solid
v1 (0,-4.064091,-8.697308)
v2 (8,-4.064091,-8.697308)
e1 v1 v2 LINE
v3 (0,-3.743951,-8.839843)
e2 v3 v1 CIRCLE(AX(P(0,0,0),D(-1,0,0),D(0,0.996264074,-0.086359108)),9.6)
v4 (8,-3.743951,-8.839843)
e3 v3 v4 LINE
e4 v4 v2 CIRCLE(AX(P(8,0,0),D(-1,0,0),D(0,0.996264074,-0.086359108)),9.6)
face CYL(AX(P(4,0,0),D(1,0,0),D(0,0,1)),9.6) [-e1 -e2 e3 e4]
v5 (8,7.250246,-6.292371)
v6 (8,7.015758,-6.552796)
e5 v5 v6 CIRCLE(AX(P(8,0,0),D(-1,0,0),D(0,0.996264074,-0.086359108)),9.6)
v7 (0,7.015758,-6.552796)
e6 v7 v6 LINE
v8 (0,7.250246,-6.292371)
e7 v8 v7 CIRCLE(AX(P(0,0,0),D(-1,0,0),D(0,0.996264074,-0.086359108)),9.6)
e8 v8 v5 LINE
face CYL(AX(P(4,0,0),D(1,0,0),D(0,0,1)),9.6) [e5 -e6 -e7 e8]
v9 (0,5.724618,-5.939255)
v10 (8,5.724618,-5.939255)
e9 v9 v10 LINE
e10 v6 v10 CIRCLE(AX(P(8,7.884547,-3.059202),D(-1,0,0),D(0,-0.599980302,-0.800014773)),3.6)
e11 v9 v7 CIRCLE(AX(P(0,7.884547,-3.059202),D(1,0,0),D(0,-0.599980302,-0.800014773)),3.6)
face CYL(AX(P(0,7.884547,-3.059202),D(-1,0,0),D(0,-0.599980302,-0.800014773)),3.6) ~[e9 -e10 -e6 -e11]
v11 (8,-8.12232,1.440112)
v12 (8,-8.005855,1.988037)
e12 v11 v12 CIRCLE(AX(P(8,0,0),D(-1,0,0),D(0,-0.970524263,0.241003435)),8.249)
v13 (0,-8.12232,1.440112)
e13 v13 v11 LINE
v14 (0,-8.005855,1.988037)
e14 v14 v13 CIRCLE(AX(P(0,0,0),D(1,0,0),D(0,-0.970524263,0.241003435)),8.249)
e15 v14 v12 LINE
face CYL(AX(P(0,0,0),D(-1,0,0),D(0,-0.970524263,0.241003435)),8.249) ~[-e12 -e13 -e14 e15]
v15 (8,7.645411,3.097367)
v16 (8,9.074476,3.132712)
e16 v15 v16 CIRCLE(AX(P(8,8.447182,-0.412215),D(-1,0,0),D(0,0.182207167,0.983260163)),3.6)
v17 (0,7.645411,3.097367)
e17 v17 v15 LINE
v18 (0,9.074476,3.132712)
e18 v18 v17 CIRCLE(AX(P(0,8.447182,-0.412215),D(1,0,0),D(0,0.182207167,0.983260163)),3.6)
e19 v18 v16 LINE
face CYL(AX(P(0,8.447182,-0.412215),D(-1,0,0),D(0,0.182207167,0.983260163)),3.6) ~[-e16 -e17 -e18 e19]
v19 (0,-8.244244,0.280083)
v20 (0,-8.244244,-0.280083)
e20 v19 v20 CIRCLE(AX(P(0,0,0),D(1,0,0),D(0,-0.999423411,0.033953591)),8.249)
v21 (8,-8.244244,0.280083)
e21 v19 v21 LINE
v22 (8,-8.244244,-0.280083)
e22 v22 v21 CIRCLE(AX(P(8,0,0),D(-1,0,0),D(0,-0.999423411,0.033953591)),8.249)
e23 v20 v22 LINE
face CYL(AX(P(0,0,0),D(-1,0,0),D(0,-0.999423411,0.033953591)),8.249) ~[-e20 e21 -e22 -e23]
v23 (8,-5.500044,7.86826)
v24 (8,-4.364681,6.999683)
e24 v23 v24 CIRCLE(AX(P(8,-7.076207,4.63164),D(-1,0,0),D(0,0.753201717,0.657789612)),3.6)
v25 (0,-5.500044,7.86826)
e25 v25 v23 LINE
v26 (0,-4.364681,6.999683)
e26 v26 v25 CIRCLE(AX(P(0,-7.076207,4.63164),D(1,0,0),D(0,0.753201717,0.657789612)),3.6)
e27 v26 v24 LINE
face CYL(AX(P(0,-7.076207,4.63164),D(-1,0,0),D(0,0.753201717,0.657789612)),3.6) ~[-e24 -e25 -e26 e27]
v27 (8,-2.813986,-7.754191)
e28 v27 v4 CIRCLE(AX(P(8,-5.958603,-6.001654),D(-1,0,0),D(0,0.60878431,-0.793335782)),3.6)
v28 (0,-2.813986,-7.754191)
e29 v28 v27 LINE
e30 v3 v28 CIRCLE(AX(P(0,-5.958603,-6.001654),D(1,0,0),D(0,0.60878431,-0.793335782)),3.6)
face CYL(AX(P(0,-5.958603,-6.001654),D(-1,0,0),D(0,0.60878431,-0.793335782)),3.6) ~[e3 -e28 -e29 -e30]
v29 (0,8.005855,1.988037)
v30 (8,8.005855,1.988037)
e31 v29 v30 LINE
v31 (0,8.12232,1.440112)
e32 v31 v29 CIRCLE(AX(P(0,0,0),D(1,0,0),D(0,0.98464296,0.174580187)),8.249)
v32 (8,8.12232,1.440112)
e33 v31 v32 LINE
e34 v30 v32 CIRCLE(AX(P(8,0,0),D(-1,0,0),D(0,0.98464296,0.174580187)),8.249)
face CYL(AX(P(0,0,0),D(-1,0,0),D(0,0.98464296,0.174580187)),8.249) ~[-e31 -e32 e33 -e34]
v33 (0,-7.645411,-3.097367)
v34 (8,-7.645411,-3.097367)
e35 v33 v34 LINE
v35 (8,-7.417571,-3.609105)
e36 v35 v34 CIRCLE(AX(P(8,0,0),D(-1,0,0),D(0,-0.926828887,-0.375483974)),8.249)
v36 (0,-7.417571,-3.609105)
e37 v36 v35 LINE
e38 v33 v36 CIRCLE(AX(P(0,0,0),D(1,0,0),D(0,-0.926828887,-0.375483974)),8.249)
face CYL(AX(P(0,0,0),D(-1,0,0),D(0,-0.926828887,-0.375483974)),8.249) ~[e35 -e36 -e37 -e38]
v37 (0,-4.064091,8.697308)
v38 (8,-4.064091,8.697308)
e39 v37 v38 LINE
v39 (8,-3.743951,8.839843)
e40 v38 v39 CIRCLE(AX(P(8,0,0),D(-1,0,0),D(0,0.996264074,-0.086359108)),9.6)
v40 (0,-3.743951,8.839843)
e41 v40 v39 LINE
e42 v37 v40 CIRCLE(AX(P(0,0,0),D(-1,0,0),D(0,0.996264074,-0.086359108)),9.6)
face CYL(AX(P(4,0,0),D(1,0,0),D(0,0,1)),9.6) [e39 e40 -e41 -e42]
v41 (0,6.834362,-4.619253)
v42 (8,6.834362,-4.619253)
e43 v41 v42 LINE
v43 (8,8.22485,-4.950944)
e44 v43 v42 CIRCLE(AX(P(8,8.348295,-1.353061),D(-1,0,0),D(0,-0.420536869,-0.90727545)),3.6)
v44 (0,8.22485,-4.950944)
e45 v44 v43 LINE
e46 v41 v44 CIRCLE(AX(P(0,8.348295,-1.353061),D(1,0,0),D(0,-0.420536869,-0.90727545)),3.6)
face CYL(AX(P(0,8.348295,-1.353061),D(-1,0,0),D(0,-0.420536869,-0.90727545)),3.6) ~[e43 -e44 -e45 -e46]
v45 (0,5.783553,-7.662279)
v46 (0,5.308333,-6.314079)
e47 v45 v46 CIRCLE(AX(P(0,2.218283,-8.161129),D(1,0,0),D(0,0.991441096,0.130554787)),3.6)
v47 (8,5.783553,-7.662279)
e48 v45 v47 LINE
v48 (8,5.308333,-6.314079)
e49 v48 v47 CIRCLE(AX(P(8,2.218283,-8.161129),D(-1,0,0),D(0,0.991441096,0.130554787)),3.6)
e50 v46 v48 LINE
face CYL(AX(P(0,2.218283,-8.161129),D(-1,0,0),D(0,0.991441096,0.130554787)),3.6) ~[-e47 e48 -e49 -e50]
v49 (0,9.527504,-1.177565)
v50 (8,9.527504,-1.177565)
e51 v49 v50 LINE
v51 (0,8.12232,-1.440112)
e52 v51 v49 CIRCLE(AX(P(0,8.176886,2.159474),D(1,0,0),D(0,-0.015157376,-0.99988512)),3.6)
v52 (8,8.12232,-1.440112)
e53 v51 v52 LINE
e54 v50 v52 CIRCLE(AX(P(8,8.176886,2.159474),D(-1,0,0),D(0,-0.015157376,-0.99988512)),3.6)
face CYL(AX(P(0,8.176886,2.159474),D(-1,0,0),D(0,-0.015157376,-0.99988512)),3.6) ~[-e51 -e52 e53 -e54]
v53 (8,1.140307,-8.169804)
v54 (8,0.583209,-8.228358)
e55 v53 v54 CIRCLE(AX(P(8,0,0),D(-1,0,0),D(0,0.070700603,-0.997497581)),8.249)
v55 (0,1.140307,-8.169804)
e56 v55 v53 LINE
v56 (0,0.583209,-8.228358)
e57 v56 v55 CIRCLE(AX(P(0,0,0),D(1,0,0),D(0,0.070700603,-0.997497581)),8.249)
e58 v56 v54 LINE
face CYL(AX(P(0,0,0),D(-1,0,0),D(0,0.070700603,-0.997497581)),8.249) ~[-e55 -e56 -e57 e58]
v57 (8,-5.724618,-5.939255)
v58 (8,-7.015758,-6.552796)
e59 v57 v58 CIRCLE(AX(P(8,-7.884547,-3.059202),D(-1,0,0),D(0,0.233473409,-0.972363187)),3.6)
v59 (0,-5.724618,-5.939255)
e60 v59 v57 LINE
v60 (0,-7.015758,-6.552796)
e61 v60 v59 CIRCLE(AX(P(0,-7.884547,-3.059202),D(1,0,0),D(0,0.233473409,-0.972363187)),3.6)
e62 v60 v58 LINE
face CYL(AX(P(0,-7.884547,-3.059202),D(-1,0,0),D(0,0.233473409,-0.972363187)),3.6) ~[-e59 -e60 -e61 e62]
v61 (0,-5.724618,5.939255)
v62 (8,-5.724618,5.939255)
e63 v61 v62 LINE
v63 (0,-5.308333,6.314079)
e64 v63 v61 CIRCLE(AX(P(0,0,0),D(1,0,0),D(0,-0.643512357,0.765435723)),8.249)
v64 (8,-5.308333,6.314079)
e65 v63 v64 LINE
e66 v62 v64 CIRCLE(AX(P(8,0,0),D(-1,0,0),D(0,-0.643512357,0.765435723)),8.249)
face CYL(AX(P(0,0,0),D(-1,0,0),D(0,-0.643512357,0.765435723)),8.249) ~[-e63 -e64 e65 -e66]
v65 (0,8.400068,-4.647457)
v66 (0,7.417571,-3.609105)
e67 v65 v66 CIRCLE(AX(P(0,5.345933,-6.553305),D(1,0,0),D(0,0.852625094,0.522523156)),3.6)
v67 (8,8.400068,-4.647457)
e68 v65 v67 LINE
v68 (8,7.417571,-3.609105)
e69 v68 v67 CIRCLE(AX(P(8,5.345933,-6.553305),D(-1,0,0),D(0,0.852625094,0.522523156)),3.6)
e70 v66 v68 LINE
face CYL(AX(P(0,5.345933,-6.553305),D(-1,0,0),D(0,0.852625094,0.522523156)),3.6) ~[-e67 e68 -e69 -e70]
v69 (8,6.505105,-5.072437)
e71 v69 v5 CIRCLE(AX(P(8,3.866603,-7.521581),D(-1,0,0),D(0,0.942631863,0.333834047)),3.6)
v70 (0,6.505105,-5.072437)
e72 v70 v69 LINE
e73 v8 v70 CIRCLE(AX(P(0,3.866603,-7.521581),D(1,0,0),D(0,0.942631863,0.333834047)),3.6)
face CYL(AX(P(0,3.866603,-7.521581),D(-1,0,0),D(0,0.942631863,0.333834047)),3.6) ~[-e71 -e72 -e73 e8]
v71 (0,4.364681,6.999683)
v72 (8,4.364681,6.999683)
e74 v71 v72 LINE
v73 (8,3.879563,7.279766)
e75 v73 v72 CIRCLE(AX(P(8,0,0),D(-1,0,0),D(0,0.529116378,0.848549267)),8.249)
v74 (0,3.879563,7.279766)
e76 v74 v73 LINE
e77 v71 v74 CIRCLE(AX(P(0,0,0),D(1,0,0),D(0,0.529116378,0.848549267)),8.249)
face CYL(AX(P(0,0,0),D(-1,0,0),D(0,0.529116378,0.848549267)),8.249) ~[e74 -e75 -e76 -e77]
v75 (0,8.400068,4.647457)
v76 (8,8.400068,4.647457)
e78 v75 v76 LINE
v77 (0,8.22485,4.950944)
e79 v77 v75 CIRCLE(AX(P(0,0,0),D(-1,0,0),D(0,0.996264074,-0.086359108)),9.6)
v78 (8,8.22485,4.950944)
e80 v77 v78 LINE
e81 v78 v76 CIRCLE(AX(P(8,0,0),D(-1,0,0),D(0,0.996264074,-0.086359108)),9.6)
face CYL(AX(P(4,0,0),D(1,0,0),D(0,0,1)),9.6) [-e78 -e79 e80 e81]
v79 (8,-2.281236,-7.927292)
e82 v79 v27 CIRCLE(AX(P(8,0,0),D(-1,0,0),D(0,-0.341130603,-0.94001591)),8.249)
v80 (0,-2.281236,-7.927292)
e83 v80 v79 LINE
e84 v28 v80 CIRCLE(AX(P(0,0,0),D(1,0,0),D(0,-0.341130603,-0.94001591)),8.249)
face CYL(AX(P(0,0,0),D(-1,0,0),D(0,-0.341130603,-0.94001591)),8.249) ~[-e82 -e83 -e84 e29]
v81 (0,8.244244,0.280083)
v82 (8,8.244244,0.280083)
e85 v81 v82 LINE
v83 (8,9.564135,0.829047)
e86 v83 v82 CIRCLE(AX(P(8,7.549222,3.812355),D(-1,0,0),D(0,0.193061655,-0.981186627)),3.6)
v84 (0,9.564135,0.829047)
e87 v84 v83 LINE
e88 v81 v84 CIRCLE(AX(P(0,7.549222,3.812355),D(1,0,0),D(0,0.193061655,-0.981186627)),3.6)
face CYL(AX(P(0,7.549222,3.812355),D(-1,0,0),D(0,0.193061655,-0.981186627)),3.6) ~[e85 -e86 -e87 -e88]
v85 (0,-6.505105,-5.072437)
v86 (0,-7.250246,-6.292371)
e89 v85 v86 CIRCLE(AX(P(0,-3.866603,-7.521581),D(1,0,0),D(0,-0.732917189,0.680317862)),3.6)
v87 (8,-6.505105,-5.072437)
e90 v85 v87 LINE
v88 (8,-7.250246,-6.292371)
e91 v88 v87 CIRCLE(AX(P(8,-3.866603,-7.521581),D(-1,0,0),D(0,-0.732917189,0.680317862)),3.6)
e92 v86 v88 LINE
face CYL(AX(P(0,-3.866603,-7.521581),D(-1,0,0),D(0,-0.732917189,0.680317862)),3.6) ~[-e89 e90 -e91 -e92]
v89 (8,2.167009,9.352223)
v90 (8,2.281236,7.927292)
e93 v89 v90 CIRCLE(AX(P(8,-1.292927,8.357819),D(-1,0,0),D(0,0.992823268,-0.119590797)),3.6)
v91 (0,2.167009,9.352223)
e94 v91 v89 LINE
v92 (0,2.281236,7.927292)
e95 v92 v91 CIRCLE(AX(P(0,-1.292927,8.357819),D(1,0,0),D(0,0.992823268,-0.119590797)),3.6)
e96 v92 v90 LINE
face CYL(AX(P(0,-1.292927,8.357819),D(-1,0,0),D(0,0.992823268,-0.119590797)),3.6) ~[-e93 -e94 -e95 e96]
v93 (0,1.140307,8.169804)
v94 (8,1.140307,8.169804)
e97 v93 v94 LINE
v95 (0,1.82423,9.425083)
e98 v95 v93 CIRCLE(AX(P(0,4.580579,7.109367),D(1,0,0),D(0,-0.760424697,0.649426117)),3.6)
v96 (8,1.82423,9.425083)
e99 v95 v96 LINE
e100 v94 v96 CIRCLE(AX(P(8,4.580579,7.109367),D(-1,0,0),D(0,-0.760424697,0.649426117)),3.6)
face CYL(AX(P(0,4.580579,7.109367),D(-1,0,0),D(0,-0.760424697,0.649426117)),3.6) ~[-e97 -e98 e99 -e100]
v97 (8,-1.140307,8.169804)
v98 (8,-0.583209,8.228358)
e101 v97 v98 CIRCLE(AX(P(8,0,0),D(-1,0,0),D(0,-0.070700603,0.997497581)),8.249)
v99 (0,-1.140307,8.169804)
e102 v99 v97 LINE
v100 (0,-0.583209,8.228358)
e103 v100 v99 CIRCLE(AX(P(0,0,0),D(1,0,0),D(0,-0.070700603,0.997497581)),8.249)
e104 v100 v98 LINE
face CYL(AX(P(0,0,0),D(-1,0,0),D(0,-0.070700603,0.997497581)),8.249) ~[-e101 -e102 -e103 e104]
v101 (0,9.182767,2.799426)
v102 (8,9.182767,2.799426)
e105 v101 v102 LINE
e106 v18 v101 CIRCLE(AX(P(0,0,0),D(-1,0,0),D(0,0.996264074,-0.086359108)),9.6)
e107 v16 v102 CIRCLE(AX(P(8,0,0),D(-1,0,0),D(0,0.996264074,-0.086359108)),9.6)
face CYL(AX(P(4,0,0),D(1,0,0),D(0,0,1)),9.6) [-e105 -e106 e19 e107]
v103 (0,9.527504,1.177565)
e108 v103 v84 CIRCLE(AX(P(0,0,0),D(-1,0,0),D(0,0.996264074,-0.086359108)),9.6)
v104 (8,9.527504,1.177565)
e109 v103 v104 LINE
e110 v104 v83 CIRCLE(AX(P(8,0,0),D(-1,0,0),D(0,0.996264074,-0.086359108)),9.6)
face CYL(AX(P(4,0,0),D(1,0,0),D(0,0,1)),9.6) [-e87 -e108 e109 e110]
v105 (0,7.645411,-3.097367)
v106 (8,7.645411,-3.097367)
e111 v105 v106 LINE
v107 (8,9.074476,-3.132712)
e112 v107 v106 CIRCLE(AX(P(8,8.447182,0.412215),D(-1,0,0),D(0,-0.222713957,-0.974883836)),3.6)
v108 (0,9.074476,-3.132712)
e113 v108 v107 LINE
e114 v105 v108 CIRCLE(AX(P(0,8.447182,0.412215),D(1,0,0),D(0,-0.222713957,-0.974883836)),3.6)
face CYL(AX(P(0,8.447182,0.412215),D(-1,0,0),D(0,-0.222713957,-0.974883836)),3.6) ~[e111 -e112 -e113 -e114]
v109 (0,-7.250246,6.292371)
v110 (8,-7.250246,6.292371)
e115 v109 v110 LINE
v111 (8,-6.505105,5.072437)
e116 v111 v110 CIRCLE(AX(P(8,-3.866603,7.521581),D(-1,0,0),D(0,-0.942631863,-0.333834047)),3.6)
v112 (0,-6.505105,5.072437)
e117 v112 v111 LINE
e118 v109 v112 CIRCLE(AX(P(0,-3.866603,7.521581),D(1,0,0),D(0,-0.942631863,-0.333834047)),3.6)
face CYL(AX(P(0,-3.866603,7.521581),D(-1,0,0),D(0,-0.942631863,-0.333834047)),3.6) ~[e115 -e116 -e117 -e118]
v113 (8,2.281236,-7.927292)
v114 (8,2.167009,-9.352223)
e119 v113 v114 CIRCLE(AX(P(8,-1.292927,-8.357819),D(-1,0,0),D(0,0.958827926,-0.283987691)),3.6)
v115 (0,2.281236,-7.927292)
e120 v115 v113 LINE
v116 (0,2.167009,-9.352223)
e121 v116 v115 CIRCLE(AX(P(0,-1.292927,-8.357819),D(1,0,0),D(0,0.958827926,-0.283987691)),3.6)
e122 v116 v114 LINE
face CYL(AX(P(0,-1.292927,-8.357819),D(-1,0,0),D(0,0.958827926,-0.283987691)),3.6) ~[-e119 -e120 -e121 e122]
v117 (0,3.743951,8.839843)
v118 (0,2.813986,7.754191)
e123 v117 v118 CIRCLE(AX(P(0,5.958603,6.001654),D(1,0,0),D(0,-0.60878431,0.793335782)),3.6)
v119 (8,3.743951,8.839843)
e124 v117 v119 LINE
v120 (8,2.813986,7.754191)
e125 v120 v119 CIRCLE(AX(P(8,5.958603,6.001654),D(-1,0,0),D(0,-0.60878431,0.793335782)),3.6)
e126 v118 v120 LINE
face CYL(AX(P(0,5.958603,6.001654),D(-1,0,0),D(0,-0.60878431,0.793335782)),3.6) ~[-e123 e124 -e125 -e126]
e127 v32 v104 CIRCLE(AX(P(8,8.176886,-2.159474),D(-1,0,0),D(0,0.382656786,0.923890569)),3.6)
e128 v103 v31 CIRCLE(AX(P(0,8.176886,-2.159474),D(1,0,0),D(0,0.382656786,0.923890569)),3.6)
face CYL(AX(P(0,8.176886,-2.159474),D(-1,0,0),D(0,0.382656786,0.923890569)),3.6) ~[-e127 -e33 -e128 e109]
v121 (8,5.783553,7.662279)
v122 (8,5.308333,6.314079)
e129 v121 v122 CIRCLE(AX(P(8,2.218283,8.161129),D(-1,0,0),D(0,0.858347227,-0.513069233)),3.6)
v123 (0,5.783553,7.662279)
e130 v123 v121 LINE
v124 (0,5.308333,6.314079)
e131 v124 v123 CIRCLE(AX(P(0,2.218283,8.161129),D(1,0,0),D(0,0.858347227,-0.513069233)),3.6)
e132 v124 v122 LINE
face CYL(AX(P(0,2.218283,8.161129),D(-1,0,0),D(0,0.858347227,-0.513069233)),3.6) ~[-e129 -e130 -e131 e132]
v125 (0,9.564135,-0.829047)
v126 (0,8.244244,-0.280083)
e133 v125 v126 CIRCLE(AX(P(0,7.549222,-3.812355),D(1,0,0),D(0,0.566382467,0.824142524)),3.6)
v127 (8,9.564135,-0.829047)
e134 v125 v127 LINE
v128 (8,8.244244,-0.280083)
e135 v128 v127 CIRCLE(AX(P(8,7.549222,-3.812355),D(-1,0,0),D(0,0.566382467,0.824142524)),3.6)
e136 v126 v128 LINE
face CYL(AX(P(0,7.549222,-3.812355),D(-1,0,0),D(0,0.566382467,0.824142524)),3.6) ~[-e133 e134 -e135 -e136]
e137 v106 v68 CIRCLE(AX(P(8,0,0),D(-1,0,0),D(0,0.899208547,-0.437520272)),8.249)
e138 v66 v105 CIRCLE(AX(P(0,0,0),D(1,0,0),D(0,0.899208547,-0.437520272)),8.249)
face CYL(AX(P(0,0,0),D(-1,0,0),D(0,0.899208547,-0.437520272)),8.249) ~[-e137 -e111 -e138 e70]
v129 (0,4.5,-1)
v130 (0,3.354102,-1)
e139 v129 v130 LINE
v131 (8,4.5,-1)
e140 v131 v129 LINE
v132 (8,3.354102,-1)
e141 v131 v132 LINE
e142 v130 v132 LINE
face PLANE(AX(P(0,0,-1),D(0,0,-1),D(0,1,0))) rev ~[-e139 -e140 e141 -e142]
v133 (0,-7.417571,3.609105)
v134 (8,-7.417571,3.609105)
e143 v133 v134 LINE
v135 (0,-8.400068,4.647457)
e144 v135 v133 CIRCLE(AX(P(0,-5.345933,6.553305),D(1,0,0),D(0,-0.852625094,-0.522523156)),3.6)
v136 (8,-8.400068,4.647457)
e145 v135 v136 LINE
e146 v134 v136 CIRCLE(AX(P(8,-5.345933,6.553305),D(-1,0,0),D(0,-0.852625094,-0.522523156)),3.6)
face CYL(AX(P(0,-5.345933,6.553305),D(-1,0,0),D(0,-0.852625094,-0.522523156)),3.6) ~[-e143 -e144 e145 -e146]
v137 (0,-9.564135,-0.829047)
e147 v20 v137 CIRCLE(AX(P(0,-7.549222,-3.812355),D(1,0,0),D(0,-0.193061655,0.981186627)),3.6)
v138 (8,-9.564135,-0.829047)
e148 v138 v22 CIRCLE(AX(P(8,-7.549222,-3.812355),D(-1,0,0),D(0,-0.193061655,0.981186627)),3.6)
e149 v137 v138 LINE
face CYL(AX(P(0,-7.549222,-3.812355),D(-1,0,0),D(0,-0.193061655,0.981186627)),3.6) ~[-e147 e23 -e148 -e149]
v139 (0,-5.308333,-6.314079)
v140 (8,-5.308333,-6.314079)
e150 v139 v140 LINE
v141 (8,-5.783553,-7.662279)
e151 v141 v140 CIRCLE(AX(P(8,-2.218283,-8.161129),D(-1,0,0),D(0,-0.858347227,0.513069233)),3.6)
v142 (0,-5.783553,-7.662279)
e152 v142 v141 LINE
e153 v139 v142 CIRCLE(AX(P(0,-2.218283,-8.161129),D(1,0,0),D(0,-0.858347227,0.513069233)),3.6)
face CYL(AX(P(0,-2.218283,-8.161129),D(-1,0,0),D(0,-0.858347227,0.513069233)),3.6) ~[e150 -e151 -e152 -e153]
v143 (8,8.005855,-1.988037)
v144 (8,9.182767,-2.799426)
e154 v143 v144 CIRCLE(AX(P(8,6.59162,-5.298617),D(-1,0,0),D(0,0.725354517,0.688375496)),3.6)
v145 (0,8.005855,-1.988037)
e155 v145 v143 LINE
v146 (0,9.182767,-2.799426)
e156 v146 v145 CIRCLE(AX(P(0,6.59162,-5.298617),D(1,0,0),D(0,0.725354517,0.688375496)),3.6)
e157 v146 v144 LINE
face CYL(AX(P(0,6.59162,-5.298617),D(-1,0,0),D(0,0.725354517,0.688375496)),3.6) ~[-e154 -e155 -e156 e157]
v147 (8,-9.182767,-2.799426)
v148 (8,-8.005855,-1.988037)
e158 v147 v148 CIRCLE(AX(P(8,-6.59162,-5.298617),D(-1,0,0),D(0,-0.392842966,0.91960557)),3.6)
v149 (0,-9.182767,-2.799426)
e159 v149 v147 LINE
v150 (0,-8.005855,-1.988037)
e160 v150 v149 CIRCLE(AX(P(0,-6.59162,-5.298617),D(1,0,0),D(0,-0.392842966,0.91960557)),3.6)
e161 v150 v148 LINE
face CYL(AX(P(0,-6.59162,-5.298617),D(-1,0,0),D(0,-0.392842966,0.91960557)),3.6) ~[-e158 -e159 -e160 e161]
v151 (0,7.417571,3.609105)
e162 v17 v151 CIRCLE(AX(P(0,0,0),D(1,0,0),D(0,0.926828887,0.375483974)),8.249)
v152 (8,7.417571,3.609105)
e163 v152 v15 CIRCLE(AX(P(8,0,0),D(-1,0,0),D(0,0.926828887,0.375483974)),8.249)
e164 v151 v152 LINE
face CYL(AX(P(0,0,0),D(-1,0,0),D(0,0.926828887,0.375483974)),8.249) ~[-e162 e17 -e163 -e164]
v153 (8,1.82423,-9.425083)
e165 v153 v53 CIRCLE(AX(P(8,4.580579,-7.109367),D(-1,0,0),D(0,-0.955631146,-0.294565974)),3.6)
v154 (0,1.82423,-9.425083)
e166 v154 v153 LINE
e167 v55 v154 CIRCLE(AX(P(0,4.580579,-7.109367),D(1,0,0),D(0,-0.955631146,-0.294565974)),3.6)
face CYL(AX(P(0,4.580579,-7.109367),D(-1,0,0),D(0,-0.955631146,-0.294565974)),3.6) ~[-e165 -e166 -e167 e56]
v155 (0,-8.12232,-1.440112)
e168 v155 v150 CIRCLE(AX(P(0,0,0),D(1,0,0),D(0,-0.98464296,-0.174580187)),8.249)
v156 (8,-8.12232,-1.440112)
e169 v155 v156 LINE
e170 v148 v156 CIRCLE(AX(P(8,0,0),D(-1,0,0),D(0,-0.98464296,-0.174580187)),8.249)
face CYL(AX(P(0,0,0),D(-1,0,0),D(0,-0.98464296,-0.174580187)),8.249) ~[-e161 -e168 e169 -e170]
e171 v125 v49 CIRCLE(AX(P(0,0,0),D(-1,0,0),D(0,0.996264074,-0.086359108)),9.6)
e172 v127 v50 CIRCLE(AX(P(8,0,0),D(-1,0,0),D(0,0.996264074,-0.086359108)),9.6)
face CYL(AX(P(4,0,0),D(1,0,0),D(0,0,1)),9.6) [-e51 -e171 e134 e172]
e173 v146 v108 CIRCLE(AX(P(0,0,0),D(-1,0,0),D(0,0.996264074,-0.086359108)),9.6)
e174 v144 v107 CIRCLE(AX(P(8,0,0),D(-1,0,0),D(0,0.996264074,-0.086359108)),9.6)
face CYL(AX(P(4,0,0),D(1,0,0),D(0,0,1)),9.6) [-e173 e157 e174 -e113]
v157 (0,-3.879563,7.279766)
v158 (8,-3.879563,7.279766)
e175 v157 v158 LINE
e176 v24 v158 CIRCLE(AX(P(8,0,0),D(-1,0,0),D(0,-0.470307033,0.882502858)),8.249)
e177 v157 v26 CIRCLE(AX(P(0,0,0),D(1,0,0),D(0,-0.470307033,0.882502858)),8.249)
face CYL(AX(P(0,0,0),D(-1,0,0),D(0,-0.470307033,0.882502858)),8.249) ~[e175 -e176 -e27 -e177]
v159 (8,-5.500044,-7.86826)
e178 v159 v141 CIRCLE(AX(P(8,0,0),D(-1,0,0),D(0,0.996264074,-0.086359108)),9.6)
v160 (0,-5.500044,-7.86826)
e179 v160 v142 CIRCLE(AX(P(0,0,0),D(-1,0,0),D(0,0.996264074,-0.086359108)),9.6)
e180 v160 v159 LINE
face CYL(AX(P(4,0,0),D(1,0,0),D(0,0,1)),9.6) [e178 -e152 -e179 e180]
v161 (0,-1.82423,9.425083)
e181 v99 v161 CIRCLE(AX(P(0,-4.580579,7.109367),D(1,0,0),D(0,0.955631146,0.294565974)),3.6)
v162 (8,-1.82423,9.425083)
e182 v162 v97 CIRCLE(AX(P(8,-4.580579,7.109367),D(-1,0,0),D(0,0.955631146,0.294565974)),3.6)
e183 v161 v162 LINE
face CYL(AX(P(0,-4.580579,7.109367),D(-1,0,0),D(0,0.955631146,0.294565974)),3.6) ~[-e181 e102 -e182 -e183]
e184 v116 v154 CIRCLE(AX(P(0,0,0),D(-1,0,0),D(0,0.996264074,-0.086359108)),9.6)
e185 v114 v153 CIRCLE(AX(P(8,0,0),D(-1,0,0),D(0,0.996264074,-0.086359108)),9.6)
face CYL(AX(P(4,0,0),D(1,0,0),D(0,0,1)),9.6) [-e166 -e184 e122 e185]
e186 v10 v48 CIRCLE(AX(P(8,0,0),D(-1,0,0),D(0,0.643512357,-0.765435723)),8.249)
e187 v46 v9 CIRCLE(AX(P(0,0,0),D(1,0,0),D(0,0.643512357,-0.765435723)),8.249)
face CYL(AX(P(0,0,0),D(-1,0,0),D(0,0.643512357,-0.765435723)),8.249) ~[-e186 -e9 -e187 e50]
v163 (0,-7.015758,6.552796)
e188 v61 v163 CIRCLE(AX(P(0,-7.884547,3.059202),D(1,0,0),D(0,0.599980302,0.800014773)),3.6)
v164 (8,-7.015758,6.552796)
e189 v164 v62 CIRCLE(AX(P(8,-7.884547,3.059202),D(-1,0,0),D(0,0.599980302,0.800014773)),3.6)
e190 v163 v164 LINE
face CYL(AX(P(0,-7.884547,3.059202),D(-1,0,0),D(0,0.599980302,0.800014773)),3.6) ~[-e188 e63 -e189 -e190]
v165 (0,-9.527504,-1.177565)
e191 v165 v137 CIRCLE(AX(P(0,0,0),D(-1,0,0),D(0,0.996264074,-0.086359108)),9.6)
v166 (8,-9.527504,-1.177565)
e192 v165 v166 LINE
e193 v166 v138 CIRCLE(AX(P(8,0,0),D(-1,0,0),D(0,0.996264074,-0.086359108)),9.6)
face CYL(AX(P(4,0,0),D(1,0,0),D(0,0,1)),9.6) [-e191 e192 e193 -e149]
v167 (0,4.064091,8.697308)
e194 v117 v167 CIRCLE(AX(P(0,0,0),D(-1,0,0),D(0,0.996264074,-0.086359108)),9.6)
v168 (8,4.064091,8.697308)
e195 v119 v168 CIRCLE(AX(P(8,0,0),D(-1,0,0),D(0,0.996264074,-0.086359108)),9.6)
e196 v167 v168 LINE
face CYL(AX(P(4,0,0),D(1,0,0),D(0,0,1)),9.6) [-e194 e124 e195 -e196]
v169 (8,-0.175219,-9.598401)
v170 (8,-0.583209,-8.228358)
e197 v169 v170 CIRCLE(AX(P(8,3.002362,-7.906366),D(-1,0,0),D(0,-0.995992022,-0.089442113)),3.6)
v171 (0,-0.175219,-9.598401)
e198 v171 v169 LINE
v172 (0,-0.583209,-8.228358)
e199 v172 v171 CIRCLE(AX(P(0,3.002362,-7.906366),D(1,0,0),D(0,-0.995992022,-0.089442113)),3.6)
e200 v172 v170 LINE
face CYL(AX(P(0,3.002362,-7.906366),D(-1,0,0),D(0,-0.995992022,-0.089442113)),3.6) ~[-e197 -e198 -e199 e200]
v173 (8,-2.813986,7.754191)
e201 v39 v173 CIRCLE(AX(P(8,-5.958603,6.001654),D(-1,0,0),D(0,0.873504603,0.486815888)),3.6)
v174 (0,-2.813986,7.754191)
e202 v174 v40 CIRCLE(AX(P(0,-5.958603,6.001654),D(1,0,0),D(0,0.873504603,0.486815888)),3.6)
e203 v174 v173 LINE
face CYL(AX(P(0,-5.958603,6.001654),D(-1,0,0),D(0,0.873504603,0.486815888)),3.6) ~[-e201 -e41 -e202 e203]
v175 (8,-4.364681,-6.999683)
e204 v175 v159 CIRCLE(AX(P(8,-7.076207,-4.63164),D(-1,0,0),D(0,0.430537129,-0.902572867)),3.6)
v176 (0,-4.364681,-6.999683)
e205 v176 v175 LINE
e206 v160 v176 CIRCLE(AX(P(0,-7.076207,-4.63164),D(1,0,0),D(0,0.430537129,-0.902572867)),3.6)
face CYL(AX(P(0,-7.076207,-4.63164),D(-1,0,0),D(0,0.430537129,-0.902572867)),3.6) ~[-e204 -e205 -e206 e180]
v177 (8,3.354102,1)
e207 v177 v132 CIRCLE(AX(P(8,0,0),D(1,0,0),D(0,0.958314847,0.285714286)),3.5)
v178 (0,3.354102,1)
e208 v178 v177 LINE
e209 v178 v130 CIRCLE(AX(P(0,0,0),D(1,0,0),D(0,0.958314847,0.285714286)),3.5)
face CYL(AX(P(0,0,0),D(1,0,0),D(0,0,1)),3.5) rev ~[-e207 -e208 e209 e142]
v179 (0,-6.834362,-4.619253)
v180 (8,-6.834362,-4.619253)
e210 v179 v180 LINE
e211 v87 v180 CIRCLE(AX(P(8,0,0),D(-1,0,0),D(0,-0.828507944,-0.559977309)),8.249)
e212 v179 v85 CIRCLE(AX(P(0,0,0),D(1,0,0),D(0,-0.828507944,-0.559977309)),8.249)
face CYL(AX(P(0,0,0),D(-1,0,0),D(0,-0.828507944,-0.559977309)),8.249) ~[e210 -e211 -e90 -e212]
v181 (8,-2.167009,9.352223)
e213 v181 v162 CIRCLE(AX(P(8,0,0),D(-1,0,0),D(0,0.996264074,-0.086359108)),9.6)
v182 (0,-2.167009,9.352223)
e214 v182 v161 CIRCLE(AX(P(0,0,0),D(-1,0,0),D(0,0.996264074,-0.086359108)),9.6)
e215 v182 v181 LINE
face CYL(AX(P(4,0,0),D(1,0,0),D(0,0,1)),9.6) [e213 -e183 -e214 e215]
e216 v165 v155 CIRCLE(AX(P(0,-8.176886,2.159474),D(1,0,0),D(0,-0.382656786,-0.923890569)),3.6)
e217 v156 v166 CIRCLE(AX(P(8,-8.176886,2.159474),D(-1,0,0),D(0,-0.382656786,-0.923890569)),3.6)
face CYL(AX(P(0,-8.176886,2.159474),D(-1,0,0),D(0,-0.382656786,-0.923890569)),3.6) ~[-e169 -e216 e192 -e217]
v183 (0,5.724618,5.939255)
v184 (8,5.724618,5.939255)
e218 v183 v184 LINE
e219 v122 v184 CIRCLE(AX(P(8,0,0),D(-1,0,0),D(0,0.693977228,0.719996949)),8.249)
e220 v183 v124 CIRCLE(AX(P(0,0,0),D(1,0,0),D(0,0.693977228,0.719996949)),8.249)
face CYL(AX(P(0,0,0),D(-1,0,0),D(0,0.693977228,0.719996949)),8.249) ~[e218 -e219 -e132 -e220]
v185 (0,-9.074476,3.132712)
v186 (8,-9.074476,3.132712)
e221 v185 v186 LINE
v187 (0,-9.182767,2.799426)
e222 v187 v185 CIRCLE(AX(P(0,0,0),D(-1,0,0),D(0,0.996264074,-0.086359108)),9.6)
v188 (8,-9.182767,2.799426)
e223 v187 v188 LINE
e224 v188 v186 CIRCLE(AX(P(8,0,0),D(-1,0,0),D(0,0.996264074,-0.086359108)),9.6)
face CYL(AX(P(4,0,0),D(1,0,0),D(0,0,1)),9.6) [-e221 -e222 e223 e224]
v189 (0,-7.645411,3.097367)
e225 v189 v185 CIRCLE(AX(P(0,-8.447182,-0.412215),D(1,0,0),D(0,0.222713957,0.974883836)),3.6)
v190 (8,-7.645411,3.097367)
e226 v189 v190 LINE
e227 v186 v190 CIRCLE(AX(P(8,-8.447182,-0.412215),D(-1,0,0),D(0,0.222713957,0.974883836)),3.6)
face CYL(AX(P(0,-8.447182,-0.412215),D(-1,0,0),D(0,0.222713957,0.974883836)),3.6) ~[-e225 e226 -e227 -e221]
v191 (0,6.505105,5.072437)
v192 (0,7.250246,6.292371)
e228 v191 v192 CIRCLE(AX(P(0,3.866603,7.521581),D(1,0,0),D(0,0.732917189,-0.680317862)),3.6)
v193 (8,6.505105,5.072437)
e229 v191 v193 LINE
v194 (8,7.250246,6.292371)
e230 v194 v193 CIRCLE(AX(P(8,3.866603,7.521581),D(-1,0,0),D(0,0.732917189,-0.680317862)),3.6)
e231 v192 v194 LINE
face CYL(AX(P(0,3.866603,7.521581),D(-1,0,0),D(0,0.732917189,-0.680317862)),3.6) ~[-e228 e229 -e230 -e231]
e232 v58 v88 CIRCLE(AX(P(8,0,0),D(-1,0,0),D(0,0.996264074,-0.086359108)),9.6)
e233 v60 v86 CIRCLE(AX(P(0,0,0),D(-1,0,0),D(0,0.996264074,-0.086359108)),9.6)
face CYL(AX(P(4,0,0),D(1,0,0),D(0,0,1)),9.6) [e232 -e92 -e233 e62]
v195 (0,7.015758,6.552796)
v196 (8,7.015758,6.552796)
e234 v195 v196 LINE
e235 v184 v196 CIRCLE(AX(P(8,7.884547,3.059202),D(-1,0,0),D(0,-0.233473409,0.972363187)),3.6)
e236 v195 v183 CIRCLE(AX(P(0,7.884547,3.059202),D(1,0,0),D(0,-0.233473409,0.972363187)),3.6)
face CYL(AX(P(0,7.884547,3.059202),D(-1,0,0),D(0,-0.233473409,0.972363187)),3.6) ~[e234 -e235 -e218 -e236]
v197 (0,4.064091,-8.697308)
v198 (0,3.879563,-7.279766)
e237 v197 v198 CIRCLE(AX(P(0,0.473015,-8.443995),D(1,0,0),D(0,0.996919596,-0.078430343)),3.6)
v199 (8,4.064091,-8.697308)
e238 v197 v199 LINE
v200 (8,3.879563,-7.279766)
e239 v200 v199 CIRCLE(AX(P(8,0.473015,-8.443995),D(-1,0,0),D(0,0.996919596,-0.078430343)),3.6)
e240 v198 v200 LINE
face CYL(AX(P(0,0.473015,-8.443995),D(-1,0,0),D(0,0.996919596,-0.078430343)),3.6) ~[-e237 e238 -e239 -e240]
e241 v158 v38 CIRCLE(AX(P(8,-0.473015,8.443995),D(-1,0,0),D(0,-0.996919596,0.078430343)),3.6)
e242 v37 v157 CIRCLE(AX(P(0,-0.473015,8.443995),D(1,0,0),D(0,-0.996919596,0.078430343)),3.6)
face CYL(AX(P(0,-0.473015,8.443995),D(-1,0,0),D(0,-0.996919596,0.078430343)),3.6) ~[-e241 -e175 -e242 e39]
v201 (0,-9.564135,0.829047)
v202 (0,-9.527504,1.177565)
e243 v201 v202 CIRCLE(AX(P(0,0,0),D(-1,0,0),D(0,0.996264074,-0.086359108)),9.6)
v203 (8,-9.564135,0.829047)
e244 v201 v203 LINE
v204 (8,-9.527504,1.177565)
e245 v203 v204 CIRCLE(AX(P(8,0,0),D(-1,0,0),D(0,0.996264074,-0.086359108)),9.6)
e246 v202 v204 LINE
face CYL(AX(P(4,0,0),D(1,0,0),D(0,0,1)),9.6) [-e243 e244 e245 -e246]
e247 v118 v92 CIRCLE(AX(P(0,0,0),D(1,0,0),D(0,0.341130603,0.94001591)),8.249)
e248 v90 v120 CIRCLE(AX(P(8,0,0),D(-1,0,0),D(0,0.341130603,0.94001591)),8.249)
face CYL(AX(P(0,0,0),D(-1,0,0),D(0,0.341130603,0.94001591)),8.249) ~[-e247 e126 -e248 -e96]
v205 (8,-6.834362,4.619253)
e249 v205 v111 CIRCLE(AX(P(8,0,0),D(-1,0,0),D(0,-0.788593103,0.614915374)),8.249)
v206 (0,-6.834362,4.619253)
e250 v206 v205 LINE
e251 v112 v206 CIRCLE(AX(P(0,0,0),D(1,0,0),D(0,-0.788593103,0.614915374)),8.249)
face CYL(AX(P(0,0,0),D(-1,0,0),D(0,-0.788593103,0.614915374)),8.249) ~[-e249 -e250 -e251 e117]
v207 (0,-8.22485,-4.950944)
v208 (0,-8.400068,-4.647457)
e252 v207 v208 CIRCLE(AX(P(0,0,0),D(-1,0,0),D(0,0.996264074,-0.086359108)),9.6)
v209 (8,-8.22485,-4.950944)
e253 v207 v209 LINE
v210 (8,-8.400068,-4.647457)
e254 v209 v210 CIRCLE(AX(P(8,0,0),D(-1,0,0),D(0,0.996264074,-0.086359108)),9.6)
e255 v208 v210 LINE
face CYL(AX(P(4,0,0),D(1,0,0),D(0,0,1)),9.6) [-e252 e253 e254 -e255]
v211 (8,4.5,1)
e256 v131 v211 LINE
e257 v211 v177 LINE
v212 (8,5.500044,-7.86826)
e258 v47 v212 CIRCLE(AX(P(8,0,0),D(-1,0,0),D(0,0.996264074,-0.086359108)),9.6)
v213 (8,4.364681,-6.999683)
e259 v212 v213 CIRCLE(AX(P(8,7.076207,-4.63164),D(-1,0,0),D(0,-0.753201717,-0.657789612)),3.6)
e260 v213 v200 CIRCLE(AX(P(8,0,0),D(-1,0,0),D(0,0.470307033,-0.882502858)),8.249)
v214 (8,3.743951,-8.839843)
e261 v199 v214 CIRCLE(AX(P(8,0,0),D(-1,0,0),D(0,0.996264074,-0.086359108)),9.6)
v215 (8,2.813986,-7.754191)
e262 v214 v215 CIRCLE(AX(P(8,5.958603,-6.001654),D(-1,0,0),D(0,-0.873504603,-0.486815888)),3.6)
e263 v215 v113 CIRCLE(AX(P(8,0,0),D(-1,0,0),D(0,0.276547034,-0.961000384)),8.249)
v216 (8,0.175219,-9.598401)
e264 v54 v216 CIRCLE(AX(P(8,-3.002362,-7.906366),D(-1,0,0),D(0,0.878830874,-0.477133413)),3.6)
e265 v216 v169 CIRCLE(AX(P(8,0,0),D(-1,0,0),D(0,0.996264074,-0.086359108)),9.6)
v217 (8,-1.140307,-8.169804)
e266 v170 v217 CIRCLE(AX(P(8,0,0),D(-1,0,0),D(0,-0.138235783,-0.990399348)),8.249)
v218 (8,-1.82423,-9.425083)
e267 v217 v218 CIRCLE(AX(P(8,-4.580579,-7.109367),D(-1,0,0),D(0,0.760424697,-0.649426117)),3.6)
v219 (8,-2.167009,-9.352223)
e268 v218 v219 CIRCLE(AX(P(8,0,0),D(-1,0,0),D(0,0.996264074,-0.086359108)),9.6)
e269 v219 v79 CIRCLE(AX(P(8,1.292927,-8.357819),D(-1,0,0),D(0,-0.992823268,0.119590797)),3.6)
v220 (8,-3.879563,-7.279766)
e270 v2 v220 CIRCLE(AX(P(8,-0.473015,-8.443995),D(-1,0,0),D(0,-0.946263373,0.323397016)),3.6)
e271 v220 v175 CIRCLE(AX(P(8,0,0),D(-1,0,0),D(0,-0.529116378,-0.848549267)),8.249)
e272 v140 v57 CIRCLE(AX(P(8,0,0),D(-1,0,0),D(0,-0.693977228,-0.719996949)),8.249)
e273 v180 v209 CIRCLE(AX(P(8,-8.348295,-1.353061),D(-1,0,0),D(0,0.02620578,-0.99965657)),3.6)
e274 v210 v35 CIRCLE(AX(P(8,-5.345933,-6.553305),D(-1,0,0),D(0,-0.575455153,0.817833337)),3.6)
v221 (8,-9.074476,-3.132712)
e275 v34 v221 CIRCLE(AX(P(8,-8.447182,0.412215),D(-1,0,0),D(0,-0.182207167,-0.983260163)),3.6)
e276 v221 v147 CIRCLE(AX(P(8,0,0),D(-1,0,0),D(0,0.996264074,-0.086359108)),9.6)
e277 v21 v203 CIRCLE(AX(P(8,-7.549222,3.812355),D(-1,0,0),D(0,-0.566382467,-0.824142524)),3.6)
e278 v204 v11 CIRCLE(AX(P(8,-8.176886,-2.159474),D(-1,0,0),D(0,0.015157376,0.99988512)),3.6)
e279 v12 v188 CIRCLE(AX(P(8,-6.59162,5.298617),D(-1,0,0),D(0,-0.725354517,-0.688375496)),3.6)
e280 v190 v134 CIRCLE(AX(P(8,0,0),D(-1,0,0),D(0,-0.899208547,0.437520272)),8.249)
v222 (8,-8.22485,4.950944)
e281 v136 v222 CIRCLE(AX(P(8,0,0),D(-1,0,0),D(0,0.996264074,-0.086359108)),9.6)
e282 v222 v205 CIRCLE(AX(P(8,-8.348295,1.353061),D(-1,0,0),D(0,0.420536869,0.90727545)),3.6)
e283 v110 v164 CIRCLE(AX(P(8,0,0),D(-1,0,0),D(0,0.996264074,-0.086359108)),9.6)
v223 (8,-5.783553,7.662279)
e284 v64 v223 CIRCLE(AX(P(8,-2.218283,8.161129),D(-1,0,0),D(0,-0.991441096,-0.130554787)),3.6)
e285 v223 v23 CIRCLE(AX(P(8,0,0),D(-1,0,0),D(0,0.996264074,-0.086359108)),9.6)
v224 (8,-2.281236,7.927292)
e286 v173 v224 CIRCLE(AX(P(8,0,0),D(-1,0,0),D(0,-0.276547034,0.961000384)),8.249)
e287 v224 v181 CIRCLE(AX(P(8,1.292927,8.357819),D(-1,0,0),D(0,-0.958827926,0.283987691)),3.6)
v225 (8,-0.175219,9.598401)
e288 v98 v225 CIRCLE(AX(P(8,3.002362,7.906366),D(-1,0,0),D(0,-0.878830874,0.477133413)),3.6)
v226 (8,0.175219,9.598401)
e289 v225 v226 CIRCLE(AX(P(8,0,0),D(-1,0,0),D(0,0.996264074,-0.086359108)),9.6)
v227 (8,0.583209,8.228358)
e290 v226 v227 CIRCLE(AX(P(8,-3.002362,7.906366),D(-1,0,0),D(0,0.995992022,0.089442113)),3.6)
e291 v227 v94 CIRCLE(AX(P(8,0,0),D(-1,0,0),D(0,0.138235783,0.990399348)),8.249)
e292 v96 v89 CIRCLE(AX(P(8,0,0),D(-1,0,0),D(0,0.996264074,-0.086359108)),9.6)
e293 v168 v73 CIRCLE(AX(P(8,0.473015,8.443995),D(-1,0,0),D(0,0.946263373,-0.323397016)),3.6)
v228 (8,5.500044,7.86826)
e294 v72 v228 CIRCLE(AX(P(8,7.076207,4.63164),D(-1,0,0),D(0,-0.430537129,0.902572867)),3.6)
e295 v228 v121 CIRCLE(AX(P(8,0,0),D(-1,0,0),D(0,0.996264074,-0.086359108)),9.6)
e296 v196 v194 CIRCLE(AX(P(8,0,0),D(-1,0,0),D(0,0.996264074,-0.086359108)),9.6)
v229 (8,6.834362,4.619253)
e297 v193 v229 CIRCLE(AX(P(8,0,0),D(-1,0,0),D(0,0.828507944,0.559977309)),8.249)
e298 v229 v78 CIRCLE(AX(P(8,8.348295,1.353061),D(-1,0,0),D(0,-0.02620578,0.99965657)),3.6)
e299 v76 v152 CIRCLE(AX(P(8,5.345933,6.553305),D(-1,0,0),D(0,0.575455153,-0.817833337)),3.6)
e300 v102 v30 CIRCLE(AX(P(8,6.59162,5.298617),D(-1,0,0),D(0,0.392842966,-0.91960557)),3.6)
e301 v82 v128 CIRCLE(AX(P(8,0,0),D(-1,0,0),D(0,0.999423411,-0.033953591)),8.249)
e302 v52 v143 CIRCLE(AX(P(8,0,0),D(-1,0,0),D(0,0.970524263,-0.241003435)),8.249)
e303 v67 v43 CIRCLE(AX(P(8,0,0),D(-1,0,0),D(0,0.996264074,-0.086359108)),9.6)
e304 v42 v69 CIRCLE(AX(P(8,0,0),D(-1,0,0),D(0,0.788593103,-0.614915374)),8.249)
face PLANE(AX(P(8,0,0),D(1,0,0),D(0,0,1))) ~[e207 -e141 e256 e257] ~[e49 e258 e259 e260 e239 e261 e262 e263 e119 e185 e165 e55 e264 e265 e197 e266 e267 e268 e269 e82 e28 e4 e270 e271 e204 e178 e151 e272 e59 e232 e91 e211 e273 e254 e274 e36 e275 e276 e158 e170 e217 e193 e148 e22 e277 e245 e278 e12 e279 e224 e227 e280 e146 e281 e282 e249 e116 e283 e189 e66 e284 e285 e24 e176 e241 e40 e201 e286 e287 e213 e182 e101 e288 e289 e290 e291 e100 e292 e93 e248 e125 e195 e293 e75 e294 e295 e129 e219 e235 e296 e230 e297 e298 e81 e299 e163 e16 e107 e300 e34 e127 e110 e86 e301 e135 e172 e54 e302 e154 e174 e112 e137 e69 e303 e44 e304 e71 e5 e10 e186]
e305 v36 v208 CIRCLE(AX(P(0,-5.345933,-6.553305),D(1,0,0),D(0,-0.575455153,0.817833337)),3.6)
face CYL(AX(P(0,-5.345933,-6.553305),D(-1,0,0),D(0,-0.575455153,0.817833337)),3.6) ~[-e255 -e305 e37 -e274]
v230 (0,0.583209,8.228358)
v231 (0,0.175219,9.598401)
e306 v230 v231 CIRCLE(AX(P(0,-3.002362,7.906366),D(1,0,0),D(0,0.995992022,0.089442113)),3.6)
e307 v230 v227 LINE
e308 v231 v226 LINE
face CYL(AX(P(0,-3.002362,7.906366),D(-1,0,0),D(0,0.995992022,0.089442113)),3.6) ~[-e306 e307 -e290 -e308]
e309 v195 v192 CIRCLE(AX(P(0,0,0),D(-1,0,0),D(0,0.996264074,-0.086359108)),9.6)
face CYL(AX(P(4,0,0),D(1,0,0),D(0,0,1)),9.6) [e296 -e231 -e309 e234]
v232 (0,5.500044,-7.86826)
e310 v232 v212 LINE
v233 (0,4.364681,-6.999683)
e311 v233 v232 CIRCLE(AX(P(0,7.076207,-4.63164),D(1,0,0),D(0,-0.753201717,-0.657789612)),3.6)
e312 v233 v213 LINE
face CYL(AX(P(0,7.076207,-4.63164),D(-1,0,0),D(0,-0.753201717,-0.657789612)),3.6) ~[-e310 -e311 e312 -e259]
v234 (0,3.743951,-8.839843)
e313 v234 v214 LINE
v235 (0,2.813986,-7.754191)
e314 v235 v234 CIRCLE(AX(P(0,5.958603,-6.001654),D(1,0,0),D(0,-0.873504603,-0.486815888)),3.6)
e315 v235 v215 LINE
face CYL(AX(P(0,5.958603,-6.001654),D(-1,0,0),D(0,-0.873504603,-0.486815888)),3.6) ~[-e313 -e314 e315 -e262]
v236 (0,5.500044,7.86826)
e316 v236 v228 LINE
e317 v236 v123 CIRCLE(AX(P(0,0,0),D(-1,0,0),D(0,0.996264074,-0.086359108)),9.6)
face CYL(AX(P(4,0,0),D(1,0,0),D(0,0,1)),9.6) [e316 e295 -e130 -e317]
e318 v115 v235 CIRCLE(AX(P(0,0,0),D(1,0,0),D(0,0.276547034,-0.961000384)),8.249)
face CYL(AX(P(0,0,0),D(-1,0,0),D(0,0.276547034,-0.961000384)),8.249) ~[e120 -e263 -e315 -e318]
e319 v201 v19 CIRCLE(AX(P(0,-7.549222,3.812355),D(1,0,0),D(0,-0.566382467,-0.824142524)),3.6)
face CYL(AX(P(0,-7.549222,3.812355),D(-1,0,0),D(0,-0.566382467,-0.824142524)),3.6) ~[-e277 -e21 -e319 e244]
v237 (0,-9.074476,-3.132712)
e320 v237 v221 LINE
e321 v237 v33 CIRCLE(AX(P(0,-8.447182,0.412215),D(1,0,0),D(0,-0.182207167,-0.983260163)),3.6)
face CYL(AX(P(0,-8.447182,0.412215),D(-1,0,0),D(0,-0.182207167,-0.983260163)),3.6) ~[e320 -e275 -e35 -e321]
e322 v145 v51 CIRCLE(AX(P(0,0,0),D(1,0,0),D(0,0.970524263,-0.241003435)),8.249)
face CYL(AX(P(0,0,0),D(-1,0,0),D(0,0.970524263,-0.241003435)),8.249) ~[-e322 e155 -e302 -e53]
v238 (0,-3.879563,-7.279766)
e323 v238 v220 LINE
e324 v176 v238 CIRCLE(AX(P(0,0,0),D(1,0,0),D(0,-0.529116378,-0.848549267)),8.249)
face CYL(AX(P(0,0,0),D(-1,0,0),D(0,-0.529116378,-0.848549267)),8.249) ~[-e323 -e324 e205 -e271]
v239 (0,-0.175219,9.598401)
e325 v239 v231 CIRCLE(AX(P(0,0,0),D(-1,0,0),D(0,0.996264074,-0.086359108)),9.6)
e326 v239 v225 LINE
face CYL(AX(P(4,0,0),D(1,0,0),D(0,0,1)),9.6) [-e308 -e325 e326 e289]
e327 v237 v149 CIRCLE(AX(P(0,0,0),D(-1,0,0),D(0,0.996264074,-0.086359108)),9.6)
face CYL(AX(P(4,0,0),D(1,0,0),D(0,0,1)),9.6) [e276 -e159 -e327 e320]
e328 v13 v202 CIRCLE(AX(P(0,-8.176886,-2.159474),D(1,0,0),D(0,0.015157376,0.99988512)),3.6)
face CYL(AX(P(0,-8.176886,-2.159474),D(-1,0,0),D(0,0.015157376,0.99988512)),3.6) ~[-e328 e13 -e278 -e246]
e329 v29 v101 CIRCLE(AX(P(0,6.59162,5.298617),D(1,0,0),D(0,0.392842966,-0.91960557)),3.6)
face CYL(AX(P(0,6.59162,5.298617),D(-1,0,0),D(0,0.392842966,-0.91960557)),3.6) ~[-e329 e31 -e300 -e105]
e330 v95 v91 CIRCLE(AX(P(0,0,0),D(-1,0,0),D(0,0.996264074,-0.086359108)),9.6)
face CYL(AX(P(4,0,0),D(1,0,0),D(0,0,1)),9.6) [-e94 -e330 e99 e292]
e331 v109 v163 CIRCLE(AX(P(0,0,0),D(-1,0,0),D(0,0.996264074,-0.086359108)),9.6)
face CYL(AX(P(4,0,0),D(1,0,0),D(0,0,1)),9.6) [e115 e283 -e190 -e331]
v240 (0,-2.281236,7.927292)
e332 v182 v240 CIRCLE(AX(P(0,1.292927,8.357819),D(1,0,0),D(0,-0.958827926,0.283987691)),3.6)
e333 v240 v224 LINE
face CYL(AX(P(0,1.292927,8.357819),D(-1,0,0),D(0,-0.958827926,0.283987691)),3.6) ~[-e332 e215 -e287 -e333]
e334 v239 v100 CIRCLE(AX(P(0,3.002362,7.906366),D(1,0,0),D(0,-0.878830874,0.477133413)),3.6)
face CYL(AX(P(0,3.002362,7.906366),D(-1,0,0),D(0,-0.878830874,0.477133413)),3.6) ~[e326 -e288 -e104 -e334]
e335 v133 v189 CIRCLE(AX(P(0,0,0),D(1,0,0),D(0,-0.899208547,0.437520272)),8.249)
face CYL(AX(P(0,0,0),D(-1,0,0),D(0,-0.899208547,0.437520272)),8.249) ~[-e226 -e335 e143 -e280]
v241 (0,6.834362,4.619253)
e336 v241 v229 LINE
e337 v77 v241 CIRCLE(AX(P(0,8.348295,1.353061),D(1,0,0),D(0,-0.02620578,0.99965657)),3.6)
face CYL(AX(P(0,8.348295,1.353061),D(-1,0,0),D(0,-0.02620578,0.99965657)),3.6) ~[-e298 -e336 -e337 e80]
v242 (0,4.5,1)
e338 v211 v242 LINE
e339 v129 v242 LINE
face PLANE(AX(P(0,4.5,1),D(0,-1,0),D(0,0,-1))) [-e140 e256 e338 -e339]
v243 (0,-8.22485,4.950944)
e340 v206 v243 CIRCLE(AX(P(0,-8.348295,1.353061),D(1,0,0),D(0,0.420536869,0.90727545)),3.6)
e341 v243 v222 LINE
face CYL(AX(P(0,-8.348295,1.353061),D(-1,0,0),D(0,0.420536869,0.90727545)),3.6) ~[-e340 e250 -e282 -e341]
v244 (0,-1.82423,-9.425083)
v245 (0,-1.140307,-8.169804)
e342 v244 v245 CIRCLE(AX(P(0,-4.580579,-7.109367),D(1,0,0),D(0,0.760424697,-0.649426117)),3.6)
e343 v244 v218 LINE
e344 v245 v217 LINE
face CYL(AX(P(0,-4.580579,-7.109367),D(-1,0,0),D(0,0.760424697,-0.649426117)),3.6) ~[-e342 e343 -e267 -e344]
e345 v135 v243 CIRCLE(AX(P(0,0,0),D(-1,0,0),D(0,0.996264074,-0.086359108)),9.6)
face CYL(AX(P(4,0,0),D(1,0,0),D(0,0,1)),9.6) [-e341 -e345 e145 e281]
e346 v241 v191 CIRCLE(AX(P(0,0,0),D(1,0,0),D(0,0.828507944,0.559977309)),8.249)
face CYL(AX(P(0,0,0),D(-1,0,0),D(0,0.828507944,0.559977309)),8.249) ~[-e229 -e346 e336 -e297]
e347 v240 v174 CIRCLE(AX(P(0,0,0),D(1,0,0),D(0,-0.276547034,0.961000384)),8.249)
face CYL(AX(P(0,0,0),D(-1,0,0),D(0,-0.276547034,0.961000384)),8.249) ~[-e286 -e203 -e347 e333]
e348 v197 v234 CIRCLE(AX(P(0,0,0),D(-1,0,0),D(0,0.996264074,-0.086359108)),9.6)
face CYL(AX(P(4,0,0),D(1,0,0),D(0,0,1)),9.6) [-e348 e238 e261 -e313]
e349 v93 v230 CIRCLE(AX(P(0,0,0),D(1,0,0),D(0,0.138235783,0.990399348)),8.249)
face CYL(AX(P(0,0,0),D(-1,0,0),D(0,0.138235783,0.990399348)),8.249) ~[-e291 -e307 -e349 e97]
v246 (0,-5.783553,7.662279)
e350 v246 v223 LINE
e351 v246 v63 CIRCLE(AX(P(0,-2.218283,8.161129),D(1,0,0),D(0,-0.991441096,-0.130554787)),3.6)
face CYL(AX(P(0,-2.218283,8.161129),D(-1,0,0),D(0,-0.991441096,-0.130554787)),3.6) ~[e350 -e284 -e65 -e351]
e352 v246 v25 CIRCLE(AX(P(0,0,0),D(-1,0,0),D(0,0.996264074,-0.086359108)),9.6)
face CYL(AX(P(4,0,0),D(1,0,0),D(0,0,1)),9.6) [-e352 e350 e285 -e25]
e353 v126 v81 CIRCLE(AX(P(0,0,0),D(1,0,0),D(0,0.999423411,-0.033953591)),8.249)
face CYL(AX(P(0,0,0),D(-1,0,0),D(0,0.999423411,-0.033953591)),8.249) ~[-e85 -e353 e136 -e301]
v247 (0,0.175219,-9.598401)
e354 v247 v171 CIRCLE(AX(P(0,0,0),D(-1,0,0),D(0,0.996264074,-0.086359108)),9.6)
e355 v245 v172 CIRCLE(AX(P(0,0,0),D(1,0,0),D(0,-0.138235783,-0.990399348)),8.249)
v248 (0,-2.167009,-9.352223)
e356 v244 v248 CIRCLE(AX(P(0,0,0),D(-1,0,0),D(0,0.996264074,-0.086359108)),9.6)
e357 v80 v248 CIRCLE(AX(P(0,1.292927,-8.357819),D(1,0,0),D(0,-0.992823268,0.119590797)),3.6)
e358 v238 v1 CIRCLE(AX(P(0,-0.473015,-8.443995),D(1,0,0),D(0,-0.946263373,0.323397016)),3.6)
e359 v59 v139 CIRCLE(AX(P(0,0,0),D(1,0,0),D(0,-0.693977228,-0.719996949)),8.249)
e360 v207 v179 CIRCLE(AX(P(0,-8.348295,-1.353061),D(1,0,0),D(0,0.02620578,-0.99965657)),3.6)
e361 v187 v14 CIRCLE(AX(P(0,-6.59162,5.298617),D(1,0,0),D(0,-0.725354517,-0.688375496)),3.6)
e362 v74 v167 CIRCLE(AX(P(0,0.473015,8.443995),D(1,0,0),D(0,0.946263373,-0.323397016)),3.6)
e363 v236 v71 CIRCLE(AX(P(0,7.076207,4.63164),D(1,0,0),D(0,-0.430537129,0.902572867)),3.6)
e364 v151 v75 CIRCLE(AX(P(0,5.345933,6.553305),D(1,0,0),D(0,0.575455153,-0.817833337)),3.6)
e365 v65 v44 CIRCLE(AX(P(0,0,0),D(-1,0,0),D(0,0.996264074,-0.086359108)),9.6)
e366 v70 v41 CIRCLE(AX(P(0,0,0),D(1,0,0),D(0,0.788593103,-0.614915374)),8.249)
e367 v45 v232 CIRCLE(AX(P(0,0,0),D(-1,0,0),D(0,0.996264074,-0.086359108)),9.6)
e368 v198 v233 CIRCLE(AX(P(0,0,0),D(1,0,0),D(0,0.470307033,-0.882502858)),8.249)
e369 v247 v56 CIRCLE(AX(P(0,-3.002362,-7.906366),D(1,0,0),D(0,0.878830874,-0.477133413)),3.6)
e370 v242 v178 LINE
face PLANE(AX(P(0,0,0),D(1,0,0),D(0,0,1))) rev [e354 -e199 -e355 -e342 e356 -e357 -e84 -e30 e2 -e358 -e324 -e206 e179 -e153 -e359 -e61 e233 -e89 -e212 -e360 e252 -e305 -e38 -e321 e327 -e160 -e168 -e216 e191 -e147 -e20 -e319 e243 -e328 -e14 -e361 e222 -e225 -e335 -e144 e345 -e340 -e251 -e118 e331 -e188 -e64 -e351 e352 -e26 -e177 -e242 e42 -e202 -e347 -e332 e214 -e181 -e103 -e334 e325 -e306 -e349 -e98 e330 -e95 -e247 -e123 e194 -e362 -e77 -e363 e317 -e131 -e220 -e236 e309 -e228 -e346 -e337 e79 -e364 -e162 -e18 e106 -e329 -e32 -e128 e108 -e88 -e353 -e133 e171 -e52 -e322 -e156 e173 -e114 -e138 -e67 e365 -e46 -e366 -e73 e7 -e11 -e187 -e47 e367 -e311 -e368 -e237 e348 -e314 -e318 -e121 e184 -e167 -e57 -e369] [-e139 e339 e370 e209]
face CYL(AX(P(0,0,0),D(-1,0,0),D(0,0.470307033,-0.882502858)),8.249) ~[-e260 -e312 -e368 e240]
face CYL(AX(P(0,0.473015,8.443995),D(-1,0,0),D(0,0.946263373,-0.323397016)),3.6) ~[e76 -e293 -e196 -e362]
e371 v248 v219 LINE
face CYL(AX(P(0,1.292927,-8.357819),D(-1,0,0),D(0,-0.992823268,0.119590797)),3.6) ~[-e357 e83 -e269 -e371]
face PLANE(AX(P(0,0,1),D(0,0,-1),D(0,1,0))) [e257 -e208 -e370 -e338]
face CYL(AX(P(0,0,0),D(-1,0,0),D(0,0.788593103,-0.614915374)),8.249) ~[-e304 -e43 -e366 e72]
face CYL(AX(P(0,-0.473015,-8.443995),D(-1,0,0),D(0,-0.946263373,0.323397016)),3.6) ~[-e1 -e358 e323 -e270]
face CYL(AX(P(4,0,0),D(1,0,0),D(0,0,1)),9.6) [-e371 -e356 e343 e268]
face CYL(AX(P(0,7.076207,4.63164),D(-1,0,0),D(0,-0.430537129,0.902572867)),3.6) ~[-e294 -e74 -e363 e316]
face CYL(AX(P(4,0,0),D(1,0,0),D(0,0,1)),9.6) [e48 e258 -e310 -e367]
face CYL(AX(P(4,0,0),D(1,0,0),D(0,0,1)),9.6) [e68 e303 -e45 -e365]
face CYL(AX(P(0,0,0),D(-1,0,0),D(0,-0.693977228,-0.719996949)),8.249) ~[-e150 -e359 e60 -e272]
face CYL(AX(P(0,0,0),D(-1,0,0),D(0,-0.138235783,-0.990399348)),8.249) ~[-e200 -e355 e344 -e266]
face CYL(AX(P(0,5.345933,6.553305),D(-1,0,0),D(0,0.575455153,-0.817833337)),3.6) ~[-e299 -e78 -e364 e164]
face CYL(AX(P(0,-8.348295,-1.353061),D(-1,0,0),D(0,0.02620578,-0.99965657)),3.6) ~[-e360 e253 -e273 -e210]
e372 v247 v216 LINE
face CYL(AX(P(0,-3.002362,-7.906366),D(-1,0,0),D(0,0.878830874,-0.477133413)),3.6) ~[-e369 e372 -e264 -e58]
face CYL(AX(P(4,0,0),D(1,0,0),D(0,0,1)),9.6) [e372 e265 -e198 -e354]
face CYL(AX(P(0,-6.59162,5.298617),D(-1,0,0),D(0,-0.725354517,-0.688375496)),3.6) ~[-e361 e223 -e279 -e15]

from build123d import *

# Parameters (mm, degrees)
BASPROSKE_W     = 8
BASPROSKE_H     = 9.6
TOOTHCUT_DEPTH  = 16.758172483
TEETHCUTS_COUNT = 30
TEETHCUTS_ANGLE = 348
BORSKE_R        = 3.5
BORE_DEPTH      = 50.0000508
KEYSKE_W        = 2
KEYSKE_H        = 4.5
KEYWAY_DEPTH    = 50.0000508


with BuildPart() as part:
    # BasProSke → Base-Revolve (revolve)
    with BuildSketch(Plane(origin=(0, 0, 0), x_dir=(1, 0, 0), z_dir=(0, 1, 0)), mode=Mode.PRIVATE) as base_revolve_sk:
        with Locations((4, 4.8)):
            Rectangle(BASPROSKE_W, BASPROSKE_H)
    revolve(base_revolve_sk.sketch.rotate(Axis((-10, 0, 0), (1, 0, 0)), 180), axis=Axis((-10, 0, 0), (1, 0, 0)))

    # TooCutSke → ToothCut (cut, through all)
    with BuildSketch(Plane(origin=(0, 0, 0), x_dir=(0, 0, -1), z_dir=(1, 0, 0))):
        with BuildLine():
            ThreePointArc((0.280083172, 8.244243714), (0, 8.249), (-0.280083172, 8.244243714))
            ThreePointArc((-0.280083172, 8.244243714), (-0.494011324, 8.945142616), (-0.845441941, 9.588198636))
            ThreePointArc((-0.845441941, 9.588198636), (0, 9.6254), (0.845441941, 9.588198636))
            ThreePointArc((0.845441941, 9.588198636), (0.494011324, 8.945142616), (0.280083172, 8.244243714))
        make_face()
    toothcut = extrude(amount=TOOTHCUT_DEPTH, mode=Mode.SUBTRACT)

    # TeethCuts: ToothCut ×30 about axis
    teethcuts_axis = Axis((-10, 0, 0), (1, 0, 0))
    for i in range(1, TEETHCUTS_COUNT):
        add(toothcut.rotate(teethcuts_axis, i * TEETHCUTS_ANGLE / (TEETHCUTS_COUNT - 1)), mode=Mode.SUBTRACT)

    # BorSke → Bore (cut, symmetric)
    with BuildSketch(Plane(origin=(0, 0, 0), x_dir=(0, 0, -1), z_dir=(1, 0, 0))):
        with Locations(Location((0, 0, 0), (0, 0, 180))):
            Circle(BORSKE_R)
    extrude(amount=BORE_DEPTH, both=True, mode=Mode.SUBTRACT)

    # KeySke → Keyway (cut, symmetric)
    with BuildSketch(Plane(origin=(0, 0, 0), x_dir=(0, 0, -1), z_dir=(1, 0, 0))):
        with Locations((0, 2.25)):
            Rectangle(KEYSKE_W, KEYSKE_H)
    extrude(amount=KEYWAY_DEPTH, both=True, mode=Mode.SUBTRACT)


solid = part.part
